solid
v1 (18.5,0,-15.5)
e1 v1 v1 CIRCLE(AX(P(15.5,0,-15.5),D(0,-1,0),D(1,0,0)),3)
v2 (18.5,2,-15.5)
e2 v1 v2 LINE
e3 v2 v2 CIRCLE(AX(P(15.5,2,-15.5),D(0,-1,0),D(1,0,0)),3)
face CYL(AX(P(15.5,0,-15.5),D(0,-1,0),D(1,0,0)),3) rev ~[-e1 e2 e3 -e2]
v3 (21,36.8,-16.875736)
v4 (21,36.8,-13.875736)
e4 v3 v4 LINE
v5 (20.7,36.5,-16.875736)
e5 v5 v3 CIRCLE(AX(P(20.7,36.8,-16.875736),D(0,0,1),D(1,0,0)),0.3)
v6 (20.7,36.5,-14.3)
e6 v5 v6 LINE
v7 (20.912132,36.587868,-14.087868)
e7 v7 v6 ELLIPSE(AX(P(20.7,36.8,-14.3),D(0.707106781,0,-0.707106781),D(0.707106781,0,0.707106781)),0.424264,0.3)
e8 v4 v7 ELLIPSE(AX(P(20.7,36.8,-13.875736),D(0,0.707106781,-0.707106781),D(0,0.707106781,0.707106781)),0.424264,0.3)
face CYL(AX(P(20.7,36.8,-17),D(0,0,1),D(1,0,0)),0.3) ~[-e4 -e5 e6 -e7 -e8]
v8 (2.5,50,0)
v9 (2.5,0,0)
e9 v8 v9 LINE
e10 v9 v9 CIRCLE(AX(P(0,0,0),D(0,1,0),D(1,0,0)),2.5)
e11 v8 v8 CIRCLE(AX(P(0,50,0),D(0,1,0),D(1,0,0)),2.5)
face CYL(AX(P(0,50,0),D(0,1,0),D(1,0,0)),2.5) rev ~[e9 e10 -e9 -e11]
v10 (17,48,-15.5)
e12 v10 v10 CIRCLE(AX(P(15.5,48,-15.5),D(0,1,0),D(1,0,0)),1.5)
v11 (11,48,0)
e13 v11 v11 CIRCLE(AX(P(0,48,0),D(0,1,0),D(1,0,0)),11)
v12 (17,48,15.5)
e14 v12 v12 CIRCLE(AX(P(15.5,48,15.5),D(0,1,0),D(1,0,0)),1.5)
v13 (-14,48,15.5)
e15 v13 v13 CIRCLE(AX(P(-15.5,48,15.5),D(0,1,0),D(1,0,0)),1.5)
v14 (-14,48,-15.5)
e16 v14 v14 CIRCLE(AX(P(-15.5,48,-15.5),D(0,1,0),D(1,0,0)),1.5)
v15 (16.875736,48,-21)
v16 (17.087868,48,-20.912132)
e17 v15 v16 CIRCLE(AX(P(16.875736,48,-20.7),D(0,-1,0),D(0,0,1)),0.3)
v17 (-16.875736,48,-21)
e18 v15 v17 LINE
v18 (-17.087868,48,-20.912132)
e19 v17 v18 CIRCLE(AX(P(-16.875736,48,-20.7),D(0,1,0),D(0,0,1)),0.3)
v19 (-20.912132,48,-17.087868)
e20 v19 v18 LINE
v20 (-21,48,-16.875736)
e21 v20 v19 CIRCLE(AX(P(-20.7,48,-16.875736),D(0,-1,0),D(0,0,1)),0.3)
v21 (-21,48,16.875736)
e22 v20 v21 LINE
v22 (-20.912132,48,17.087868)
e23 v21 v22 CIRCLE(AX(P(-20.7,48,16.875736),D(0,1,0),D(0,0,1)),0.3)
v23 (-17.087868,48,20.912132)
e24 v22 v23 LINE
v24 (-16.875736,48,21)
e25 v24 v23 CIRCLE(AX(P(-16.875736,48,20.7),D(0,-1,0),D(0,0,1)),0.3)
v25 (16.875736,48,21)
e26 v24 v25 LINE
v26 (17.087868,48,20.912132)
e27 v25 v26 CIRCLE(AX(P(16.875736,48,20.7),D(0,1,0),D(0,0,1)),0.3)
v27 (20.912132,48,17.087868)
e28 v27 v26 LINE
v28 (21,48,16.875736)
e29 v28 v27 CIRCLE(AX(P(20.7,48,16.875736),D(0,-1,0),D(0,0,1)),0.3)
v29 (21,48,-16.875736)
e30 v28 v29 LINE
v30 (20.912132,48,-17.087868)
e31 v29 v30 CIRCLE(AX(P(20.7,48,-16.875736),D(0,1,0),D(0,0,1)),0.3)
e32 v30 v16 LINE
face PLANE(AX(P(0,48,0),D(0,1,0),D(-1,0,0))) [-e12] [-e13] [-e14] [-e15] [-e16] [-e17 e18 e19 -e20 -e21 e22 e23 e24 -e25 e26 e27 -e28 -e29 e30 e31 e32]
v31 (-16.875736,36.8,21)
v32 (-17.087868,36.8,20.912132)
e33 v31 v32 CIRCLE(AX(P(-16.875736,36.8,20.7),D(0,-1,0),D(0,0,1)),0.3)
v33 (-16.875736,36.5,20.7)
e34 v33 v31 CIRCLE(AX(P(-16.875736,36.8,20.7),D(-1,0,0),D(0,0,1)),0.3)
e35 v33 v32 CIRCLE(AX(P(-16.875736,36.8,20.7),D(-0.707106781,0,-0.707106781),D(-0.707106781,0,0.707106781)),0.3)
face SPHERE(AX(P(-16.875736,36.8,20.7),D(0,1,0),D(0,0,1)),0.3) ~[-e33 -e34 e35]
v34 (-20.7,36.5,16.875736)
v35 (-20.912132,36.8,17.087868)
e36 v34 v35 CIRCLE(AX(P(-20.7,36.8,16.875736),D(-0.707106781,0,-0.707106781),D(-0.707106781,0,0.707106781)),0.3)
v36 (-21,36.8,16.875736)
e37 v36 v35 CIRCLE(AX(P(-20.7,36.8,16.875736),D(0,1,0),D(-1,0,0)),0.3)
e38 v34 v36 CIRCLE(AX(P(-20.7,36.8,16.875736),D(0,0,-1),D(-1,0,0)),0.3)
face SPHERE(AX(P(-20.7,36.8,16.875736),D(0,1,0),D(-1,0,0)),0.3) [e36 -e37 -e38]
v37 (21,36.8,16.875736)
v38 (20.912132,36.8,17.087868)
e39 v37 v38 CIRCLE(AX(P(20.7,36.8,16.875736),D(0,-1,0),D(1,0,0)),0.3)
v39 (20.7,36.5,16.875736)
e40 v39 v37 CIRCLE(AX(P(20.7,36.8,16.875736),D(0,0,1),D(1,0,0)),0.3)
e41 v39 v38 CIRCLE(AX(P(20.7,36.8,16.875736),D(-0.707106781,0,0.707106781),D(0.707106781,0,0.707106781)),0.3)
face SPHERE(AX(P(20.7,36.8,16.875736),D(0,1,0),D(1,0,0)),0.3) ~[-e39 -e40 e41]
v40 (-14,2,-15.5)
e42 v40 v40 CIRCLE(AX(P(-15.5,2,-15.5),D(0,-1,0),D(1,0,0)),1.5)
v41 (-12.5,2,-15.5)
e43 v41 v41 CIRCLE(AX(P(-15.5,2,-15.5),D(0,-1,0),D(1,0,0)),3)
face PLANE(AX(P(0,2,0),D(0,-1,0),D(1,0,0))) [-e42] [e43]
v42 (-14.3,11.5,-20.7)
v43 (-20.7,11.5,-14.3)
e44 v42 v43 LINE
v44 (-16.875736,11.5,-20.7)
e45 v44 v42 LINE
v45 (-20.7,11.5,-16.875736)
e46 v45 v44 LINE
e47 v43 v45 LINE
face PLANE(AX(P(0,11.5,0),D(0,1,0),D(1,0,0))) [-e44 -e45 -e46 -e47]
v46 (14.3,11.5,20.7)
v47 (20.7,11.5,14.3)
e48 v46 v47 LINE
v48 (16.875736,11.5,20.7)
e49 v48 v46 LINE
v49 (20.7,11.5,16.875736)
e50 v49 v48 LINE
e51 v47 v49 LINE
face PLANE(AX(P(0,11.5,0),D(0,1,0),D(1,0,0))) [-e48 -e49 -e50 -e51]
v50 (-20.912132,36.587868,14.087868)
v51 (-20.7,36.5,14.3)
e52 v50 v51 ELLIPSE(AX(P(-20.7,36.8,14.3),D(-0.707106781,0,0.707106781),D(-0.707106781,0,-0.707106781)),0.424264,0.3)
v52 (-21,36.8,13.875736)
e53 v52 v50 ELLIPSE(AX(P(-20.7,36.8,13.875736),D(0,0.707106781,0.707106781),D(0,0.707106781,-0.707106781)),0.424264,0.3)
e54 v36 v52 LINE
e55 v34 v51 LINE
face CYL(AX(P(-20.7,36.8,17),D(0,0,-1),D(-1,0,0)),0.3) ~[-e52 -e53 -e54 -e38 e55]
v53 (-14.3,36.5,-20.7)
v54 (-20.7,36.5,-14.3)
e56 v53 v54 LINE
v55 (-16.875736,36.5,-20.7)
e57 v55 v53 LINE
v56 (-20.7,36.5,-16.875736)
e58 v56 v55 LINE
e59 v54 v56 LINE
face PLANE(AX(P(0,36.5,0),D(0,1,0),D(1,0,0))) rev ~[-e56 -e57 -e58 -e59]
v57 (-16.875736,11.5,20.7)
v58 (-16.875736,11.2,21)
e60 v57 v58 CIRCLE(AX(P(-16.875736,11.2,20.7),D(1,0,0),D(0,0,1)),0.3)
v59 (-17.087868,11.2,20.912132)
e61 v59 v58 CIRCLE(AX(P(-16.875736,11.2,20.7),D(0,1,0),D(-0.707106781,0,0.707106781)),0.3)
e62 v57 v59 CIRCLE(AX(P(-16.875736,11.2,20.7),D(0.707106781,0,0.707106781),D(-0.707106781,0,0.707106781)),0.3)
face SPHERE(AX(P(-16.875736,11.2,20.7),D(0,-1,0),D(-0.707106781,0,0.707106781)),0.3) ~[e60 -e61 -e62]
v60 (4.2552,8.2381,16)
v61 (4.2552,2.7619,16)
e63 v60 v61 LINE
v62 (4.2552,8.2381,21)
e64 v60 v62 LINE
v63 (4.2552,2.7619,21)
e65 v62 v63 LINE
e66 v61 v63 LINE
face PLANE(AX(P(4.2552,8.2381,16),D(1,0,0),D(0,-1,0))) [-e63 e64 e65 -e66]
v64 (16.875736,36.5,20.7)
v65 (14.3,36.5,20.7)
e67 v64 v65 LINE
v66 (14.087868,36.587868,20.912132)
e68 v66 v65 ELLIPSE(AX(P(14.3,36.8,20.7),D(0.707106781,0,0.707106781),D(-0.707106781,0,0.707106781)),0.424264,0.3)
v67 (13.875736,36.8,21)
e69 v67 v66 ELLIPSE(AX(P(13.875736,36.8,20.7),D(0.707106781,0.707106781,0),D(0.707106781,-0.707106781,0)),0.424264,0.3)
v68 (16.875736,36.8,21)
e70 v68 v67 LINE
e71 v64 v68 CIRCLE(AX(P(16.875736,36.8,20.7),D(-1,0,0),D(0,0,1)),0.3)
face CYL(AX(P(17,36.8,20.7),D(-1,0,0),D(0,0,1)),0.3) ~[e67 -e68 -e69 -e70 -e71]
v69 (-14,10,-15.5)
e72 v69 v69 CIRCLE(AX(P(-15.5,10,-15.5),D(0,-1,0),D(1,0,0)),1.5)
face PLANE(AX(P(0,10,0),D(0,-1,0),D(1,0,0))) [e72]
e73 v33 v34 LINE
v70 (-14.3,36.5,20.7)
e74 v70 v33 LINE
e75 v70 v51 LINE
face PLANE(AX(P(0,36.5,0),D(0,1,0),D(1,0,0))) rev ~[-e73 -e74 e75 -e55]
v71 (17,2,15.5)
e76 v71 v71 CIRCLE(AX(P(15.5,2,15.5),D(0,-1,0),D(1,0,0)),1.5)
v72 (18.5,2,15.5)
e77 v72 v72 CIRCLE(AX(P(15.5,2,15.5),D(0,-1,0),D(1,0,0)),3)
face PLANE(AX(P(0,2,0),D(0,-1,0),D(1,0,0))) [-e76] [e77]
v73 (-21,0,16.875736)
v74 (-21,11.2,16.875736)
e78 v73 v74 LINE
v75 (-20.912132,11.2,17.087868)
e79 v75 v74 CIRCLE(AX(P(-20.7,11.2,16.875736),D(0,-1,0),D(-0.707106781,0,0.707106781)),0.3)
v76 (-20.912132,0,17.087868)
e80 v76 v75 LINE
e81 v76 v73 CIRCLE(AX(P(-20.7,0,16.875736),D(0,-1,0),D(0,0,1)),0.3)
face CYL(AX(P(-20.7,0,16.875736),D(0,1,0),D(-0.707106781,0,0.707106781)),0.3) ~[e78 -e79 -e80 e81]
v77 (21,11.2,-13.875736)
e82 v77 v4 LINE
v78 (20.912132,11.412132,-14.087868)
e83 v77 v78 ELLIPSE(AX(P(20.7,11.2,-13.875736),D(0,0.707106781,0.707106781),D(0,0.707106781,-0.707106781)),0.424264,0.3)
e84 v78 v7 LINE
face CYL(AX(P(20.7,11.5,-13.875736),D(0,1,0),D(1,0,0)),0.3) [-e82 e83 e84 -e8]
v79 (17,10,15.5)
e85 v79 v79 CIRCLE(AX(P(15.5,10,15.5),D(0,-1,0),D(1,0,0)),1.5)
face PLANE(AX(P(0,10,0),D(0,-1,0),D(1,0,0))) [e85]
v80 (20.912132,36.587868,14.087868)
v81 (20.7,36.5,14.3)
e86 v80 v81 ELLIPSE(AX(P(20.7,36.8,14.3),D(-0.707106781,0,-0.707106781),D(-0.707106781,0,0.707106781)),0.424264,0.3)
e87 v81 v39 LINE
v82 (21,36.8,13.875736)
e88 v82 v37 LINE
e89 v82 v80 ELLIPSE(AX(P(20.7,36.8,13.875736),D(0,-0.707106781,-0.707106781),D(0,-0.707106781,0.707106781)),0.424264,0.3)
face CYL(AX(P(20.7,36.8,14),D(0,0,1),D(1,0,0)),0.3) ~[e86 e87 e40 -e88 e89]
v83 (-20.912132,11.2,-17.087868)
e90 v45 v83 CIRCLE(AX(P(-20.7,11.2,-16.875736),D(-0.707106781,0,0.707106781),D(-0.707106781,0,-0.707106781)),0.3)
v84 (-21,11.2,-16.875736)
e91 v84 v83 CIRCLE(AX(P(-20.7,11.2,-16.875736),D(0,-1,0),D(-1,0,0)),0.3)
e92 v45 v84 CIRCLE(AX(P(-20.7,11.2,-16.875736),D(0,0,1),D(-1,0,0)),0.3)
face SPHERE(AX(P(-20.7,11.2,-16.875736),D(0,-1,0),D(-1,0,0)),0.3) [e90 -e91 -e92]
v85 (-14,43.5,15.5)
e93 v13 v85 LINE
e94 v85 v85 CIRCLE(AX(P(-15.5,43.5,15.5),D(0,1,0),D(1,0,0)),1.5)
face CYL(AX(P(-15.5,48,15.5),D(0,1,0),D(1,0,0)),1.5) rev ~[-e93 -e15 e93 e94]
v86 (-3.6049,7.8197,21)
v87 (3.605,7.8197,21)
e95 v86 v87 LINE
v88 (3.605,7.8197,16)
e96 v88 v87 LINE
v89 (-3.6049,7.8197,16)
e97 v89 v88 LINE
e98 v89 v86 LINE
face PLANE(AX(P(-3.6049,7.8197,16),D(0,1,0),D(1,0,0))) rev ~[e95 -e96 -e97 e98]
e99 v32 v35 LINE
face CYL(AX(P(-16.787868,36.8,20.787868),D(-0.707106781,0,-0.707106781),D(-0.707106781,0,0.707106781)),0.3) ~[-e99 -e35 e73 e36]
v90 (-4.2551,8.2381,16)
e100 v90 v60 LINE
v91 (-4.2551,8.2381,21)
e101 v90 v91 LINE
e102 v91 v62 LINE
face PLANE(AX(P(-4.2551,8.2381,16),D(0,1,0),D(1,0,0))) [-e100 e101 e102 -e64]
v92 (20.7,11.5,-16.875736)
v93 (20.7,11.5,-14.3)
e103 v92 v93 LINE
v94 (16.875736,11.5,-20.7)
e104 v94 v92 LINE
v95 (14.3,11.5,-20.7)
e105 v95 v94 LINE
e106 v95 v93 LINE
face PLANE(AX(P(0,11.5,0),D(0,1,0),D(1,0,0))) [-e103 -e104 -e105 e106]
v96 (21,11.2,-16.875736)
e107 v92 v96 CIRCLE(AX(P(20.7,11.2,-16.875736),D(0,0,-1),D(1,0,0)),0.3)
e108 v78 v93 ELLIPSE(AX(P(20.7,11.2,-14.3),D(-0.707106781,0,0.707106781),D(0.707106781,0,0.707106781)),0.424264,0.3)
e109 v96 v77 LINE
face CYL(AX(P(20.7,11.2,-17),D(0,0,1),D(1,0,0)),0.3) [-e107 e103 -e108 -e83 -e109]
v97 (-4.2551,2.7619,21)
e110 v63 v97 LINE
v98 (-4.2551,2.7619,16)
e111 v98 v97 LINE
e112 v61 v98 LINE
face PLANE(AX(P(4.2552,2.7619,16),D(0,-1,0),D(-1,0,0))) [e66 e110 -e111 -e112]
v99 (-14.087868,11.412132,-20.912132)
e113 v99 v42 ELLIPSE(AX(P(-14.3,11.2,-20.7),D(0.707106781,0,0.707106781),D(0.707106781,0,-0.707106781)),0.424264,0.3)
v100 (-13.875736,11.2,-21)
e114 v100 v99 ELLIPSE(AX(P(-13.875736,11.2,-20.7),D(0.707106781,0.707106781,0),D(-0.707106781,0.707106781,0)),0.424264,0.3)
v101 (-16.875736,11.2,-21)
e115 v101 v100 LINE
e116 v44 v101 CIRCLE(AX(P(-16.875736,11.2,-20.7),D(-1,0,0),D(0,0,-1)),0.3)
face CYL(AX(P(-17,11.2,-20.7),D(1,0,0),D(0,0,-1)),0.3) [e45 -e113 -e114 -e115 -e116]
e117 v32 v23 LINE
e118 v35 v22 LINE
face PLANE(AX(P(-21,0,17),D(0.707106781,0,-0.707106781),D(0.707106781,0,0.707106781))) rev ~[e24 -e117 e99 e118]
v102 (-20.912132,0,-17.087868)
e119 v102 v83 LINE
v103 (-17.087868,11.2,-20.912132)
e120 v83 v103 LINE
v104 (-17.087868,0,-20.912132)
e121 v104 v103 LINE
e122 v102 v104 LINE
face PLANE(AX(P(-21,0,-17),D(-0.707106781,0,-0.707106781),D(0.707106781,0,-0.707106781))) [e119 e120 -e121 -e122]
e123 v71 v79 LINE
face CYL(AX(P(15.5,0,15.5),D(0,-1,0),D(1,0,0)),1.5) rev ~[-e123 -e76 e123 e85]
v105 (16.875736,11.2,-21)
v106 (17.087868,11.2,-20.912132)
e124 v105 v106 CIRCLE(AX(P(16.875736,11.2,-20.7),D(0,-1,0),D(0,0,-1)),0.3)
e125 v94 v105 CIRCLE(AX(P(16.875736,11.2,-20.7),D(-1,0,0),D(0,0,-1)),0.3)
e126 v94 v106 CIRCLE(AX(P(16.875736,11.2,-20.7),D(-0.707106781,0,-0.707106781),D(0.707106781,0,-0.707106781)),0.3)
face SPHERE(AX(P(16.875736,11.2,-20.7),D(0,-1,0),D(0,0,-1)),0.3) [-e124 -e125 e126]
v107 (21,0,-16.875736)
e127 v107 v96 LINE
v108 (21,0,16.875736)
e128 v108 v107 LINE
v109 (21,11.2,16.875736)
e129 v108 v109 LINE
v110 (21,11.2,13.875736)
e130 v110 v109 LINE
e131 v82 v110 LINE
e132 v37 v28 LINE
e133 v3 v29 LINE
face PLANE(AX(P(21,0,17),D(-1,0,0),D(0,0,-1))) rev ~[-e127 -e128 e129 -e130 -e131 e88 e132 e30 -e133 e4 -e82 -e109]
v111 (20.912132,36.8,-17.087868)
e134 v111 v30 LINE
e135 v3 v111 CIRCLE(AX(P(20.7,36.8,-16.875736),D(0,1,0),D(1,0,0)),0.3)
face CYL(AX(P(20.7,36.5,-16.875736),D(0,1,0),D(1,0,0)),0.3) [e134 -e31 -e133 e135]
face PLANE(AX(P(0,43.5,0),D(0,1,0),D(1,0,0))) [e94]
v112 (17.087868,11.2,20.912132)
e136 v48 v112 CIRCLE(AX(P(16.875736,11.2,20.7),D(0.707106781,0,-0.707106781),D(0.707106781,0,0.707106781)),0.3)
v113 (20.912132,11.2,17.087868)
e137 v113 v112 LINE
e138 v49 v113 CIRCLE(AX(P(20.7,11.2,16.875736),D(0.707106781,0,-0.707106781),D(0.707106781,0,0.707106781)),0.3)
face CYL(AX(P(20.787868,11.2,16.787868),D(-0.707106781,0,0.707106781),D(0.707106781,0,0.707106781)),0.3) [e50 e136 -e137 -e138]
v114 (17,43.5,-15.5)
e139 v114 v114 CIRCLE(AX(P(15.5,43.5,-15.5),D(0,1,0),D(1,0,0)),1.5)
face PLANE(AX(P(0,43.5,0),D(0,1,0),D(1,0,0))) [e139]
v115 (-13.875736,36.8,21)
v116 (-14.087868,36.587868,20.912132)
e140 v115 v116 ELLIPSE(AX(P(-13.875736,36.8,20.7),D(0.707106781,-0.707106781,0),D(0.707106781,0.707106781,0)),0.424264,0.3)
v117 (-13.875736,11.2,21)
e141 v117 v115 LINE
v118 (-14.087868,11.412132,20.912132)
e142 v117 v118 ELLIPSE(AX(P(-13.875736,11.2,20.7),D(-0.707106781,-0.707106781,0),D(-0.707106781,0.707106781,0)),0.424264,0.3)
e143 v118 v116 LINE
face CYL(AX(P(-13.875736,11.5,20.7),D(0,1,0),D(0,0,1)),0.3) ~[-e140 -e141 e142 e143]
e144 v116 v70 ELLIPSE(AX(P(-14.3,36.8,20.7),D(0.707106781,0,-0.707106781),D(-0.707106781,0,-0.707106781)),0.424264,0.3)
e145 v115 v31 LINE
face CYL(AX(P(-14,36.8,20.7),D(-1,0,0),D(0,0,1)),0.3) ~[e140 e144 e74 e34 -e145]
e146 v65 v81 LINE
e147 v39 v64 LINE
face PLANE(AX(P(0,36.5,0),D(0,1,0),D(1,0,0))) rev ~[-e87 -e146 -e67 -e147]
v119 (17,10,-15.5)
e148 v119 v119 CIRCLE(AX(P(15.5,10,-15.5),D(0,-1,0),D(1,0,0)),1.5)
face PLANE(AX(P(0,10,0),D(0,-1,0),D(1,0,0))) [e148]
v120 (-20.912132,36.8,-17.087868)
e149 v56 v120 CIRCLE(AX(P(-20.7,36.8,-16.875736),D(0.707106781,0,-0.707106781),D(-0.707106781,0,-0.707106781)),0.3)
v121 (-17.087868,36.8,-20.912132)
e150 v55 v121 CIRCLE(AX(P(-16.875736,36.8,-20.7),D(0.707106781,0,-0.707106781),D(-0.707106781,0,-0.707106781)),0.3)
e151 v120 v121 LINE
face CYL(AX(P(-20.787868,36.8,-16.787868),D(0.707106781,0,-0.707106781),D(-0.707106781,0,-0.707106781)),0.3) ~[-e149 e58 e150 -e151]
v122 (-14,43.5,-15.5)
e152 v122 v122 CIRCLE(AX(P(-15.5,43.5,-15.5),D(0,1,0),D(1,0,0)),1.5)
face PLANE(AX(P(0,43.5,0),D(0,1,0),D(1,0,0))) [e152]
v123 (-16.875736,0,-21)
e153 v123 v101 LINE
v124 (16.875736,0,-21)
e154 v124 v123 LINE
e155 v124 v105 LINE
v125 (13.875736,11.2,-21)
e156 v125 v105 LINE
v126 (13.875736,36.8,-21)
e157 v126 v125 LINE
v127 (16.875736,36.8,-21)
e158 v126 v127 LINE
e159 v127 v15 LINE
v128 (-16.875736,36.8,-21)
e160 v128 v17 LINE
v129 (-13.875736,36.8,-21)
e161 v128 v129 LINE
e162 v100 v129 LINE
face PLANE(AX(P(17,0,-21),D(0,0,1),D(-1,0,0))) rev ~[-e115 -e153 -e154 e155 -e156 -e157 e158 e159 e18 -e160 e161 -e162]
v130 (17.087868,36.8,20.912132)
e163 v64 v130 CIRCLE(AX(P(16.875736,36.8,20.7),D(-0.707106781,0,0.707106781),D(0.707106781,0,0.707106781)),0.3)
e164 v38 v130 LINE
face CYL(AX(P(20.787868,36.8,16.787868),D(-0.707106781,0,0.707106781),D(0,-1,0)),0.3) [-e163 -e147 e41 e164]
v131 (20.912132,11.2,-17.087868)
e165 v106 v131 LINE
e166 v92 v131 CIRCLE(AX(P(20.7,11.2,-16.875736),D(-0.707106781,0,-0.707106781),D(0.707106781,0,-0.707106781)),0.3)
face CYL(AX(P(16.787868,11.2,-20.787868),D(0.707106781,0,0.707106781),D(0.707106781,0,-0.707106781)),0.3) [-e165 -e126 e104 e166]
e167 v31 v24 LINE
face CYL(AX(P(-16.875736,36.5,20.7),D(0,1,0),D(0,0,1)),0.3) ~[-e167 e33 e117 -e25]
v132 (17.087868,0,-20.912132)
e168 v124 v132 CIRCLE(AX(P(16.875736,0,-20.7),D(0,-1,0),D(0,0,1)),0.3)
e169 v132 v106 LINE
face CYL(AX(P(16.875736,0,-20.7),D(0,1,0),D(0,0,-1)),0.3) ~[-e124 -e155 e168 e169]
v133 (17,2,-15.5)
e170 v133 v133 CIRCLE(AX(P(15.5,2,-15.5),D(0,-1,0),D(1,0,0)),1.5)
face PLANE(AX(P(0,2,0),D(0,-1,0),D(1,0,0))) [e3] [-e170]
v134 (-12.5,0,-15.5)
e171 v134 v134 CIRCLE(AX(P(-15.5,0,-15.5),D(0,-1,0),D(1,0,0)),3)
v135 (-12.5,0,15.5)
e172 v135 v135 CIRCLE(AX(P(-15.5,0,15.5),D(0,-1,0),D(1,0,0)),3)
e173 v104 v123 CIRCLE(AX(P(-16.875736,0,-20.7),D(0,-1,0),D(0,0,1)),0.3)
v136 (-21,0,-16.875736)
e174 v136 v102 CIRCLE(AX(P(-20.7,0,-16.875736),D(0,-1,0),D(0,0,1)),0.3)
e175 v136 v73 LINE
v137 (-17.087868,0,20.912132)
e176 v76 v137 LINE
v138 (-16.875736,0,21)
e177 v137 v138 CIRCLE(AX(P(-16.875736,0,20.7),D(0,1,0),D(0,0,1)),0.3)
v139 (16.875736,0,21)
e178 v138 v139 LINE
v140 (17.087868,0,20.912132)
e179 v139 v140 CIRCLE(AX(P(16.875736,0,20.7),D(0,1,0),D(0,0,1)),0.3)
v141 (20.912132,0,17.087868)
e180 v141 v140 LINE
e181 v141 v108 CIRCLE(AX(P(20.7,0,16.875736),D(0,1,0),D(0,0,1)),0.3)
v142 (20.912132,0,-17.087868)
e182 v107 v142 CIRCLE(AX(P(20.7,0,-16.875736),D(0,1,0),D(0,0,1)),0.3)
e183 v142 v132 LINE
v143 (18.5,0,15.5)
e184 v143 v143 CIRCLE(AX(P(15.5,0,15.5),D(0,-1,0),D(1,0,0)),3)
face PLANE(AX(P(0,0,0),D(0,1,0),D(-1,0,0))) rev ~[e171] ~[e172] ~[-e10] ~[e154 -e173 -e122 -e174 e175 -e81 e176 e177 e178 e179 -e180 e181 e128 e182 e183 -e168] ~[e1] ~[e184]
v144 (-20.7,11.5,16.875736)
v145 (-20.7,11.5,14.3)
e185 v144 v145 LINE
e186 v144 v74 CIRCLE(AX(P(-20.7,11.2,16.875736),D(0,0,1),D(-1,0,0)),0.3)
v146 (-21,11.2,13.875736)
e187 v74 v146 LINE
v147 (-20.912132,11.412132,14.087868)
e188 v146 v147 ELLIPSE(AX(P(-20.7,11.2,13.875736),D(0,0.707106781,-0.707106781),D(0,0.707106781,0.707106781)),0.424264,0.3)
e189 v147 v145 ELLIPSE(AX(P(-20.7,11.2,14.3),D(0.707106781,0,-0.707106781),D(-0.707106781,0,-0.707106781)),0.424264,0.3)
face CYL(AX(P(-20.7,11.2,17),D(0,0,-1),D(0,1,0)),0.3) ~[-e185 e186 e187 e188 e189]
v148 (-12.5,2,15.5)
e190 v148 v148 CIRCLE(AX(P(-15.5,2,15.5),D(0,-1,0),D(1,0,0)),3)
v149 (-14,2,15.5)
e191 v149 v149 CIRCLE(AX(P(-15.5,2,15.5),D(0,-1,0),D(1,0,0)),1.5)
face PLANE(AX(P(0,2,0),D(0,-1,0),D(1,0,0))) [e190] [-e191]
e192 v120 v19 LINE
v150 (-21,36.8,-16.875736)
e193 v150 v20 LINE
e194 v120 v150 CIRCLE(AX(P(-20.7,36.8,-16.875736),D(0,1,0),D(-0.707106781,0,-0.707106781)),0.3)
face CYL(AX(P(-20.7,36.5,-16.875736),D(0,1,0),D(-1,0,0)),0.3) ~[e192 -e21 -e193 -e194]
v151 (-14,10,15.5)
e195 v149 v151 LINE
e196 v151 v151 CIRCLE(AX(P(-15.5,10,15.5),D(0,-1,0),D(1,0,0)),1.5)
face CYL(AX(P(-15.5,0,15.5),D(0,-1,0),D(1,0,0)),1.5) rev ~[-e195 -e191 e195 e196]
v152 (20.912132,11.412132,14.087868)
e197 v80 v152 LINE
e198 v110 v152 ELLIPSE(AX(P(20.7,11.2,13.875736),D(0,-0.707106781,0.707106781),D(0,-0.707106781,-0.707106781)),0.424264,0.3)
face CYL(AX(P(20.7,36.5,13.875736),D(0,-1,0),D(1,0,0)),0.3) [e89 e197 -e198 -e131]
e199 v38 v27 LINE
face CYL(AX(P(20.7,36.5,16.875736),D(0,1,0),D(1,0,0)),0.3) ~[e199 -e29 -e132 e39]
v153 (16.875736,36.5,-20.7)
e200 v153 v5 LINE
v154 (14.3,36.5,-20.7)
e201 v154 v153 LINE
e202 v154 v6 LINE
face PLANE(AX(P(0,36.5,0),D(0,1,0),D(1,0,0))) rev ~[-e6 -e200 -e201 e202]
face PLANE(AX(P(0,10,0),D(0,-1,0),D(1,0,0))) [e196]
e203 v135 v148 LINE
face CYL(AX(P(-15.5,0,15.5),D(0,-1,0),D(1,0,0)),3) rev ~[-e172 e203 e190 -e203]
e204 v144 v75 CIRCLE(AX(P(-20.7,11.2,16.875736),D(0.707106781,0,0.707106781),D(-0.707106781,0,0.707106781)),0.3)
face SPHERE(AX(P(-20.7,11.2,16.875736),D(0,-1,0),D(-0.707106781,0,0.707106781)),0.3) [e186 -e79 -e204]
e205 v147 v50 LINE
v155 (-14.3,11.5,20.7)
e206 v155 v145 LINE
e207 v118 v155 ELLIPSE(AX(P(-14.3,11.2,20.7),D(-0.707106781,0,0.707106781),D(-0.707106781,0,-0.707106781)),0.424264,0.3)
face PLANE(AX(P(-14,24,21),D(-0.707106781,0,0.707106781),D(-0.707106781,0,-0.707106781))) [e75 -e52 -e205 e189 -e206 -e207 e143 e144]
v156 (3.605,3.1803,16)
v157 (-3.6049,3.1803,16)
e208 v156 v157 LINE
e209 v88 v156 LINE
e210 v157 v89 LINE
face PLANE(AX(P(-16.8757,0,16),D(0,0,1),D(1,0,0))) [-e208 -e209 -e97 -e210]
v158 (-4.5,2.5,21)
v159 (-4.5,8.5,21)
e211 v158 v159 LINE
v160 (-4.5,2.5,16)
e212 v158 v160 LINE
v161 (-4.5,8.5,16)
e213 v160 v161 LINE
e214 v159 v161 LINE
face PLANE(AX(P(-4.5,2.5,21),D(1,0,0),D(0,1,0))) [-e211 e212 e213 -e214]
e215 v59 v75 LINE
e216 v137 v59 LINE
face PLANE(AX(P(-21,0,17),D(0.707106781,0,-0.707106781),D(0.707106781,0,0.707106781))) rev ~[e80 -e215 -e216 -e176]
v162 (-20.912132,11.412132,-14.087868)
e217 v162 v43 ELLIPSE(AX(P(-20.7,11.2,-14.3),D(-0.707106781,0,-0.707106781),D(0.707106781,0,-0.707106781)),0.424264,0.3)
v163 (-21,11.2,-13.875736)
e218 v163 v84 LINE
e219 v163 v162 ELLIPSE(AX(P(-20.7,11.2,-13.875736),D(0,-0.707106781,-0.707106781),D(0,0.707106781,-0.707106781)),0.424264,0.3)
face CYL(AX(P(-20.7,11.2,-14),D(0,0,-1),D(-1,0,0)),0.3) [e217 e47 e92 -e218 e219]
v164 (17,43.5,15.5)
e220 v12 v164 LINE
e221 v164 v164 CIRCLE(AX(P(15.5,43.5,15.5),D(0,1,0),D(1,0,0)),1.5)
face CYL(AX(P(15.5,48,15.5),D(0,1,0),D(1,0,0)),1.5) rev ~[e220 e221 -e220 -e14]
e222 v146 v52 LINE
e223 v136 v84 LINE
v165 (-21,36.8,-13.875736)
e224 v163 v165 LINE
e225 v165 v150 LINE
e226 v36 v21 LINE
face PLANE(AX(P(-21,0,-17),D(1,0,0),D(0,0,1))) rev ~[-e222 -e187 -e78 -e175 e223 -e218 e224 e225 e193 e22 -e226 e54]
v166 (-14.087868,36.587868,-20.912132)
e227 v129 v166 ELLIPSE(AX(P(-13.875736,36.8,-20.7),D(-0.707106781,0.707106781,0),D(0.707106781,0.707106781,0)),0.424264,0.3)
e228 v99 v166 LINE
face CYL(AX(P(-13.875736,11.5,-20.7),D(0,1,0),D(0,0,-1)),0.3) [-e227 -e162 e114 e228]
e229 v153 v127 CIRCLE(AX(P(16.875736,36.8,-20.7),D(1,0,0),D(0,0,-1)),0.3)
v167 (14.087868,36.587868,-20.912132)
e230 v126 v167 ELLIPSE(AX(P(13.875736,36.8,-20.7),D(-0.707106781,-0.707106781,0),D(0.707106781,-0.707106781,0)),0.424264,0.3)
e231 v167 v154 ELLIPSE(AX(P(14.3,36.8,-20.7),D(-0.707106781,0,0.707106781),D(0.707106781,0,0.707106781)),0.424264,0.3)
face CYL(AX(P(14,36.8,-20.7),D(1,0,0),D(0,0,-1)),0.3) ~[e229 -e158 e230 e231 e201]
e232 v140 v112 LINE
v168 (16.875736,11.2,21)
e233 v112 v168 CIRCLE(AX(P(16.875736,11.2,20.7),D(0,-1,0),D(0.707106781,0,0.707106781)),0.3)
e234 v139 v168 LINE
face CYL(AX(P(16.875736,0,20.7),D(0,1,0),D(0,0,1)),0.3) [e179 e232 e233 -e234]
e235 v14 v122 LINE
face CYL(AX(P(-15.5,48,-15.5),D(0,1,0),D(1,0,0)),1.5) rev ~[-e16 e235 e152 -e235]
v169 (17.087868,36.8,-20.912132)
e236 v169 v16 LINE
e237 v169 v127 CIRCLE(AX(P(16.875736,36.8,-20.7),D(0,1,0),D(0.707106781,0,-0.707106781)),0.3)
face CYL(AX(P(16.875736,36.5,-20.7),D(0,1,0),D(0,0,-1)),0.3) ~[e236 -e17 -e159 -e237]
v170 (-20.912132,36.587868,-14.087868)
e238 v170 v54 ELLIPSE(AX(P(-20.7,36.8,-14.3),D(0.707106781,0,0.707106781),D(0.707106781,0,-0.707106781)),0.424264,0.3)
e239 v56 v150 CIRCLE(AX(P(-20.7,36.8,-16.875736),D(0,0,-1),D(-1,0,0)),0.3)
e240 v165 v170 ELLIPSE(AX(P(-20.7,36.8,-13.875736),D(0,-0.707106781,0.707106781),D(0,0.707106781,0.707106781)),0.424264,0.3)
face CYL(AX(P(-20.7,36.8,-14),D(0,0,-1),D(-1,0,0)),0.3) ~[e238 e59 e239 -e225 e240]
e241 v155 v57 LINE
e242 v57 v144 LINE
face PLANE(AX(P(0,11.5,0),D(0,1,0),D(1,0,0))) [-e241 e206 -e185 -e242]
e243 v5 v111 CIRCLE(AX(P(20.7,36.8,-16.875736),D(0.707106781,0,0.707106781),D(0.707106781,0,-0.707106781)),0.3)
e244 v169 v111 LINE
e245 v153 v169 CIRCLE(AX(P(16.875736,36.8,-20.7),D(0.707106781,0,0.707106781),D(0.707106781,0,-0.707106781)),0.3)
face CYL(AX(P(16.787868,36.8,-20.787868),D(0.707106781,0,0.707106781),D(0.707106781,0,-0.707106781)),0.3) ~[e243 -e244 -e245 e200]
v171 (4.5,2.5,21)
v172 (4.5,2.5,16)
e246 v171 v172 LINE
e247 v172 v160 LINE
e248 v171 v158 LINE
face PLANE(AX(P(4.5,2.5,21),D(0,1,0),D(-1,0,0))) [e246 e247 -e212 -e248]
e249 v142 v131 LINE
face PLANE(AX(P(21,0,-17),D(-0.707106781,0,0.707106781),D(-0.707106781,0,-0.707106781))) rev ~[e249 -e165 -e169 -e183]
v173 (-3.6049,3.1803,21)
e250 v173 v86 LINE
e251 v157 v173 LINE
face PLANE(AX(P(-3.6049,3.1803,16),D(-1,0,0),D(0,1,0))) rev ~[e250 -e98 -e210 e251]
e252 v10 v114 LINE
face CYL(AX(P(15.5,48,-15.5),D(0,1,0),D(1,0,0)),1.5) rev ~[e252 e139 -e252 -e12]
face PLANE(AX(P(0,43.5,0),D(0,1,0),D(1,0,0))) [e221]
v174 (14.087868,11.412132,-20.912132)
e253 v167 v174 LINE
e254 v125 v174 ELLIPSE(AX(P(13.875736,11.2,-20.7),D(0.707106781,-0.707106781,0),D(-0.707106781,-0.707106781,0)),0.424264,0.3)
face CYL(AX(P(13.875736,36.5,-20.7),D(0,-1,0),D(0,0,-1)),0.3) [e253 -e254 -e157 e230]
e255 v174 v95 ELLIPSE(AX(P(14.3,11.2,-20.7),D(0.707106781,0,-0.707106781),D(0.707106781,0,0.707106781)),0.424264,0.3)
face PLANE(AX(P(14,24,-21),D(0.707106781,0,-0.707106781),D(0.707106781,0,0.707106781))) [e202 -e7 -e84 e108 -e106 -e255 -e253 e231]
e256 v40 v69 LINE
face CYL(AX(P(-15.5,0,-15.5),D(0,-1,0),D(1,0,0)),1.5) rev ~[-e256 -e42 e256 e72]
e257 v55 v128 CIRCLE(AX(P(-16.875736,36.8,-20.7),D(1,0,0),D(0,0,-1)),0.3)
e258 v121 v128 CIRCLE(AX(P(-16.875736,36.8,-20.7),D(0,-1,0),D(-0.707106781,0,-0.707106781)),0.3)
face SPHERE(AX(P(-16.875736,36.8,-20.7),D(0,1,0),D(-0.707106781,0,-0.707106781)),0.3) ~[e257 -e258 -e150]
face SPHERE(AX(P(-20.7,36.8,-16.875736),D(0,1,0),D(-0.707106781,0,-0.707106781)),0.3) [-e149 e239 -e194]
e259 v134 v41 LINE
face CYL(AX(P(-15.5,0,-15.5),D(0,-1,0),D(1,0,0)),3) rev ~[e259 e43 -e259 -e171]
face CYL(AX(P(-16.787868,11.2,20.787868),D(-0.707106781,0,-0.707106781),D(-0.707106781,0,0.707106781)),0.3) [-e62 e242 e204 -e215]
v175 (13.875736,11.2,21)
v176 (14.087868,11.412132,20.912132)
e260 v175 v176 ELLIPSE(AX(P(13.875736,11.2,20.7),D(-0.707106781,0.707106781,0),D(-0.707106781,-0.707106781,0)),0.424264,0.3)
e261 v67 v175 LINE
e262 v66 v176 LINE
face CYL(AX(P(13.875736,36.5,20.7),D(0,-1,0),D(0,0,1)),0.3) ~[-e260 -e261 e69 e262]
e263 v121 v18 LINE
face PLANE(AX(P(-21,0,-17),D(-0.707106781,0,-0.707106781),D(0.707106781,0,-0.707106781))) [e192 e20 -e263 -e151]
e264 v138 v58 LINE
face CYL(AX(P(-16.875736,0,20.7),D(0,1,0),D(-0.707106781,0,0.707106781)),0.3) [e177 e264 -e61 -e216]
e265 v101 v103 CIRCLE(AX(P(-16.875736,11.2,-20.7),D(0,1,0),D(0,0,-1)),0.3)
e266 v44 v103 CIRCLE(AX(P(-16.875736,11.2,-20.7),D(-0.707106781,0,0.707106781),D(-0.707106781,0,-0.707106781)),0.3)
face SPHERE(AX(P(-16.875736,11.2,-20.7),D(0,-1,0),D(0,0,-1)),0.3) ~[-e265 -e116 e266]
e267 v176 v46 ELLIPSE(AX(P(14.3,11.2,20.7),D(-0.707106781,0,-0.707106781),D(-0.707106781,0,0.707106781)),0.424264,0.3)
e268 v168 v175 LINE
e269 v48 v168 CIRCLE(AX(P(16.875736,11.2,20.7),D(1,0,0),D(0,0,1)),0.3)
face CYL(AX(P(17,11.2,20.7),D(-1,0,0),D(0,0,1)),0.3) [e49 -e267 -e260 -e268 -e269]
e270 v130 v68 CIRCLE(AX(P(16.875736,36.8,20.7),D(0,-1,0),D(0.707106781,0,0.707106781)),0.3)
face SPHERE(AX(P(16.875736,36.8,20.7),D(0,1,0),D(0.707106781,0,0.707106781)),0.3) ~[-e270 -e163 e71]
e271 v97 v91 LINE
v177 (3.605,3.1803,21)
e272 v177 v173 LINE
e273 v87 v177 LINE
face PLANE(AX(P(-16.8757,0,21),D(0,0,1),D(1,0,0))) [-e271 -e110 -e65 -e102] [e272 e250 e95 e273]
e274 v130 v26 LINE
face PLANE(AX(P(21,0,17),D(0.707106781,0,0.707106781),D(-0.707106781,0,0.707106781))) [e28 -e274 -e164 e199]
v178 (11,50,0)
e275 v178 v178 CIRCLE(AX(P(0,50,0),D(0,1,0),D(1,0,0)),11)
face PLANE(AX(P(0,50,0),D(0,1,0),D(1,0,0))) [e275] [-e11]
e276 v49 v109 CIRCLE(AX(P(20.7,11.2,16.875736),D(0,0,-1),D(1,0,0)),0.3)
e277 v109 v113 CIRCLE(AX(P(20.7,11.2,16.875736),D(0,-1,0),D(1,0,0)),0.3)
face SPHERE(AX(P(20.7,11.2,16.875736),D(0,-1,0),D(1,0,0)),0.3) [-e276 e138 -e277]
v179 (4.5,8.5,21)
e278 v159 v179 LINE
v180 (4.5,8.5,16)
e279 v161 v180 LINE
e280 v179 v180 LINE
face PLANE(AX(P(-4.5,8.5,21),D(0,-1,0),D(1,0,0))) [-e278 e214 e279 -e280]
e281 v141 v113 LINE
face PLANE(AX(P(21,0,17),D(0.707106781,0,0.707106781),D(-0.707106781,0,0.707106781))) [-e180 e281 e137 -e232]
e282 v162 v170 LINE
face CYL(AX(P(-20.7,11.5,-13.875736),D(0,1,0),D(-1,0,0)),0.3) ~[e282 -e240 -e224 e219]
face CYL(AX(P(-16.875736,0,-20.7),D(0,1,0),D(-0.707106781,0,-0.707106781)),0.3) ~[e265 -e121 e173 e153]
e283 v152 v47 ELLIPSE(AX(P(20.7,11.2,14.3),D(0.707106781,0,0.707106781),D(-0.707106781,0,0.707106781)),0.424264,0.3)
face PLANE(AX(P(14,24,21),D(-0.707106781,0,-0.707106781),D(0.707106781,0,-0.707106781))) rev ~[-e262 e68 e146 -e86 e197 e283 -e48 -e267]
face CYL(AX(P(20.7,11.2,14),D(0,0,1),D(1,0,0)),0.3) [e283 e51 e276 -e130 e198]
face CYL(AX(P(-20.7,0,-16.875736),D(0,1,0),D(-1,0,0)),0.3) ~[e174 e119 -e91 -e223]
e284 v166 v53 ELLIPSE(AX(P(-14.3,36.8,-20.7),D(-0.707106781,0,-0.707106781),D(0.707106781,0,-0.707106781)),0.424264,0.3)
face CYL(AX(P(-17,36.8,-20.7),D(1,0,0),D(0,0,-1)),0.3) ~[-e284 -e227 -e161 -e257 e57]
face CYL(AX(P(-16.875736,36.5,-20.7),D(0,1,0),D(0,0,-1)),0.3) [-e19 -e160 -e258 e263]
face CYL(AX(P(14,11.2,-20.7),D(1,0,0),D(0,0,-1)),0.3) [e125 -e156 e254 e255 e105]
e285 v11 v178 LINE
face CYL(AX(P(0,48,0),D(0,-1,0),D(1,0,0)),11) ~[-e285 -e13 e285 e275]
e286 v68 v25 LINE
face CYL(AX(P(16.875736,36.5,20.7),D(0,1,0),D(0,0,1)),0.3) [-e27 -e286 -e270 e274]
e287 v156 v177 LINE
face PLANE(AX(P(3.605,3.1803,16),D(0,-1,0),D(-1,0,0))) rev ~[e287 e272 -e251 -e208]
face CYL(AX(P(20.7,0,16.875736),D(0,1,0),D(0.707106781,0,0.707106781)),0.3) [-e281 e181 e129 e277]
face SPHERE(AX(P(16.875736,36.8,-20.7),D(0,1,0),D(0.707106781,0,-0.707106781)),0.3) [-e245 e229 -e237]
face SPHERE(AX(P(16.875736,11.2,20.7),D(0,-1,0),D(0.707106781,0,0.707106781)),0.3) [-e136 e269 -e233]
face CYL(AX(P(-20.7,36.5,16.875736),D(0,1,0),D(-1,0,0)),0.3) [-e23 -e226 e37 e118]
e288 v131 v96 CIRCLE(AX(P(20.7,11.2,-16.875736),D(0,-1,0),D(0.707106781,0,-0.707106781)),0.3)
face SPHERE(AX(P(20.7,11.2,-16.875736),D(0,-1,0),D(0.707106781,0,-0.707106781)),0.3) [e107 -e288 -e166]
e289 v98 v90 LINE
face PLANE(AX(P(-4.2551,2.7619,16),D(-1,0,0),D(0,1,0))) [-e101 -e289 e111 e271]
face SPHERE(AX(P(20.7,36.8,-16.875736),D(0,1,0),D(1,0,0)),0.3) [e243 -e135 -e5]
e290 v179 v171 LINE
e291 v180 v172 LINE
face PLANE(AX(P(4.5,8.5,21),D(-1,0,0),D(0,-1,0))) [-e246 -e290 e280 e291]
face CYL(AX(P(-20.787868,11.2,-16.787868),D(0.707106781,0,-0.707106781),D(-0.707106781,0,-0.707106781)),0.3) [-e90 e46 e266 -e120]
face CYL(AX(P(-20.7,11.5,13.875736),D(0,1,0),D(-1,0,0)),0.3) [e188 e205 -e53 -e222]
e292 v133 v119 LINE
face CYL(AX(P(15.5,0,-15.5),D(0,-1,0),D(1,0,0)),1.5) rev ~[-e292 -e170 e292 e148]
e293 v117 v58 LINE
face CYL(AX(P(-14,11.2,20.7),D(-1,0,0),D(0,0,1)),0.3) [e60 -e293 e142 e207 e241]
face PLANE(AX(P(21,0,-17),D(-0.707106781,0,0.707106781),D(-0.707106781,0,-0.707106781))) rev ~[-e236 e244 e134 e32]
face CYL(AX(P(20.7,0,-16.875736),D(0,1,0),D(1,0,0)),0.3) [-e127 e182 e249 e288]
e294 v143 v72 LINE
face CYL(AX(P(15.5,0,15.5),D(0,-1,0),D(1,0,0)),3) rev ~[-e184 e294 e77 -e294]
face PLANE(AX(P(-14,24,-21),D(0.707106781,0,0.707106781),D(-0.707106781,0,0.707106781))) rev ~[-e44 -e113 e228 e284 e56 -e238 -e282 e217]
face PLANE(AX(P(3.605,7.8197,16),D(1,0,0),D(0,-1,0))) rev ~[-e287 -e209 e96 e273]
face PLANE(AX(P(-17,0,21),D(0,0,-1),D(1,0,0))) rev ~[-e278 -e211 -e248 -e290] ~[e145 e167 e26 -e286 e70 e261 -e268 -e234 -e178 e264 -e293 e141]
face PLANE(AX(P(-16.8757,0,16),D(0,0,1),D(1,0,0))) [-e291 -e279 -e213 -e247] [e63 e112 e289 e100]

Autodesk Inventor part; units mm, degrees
ref_plane "YZ Plane" through (0, 0, 0) normal (1, 0, 0) x (0, 1, 0)
ref_plane "XZ Plane" through (0, 0, 0) normal (0, 1, 0) x (-1, 0, 0)
sketch "Sketch1" plane through (0, 0, 0) normal (0, 1, 0) x (-1, 0, 0)
  line L0 (17, 21) -> (-17, 21)
  line L1 (-21, 17) -> (-21, -17)
  line L2 (-17, -21) -> (17, -21)
  line L3 (21, -17) -> (21, 17)
  line L4 (21, 21) -> (-21, -21) construction
  line L5 (-21, 21) -> (21, -21) construction
  line L6 (21, 0) -> (-21, 0) construction
  line L7 (0, 21) -> (0, -21) construction
  line L8 (0, -21) -> (17, -21) construction
  line L9 (21, 0) -> (21, -17) construction
  line L10 (21, -17) -> (17, -21)
  line L11 (21, 17) -> (17, 21)
  line L12 (-21, -17) -> (-17, -21)
  line L13 (-21, 17) -> (-17, 21)
  point P0 (0, 0)
  dimension "d0" = 42
  dimension "d1" = 42
  dimension "d2" = 17
  dimension "d3" = 17
extrude "Extrusion1" add sketch "Sketch1" along normal blind 48
ref_plane "Work Plane1" through (0, 24, 0) normal (0, 1, 0) x (1, 0, 0)
sketch "Sketch2" plane through (0, 24, 0) normal (0, 1, 0) x (1, 0, 0)
  line L0 (17, -21) -> (-17, -21) projected
  line L1 (-17, -21) -> (-21, -17) projected
  line L2 (-21, -17) -> (-21, 17) projected
  line L3 (-21, 17) -> (-17, 21) projected
  line L4 (-17, 21) -> (17, 21) projected
  line L5 (17, 21) -> (21, 17) projected
  line L6 (21, 17) -> (21, -17) projected
  line L7 (21, -17) -> (17, -21) projected
  line L8 (0, 21) -> (0, -21) construction
  line L9 (17, -21) -> (-17, -21) construction
  line L10 (-21, -17) -> (-21, 17) construction
  line L11 (-21, 0) -> (21, 0) construction
  line L12 (0, 21) -> (14, 21) construction
  line L13 (-17, 21) -> (17, 21) construction
  line L14 (21, 0) -> (21, 14) construction
  line L15 (21, 17) -> (21, -17) construction
  line L16 (14, 21) -> (21, 14)
  line L17 (-14, 21) -> (-21, 14)
  line L18 (14, -21) -> (21, -14)
  line L19 (-14, -21) -> (-21, -14)
  line L20 (14, -21) -> (17, -21)
  line L21 (21, -17) -> (17, -21) projected
  line L22 (21, -17) -> (21, -14)
  line L23 (17, -21) -> (21, -17)
  line L24 (17, 21) -> (21, 17) projected
  line L25 (21, 14) -> (21, 17)
  line L26 (21, 17) -> (17, 21)
  line L27 (17, 21) -> (14, 21)
  line L28 (-14, 21) -> (-17, 21)
  line L29 (-21, 17) -> (-17, 21) projected
  line L30 (-21, 17) -> (-21, 14)
  line L31 (-17, 21) -> (-21, 17)
  line L32 (-14, -21) -> (-17, -21)
  line L33 (-17, -21) -> (-21, -17) projected
  line L34 (-21, -17) -> (-21, -14)
  line L35 (-17, -21) -> (-21, -17)
  point P0 (0, 0)
  dimension "d6" = 14
  dimension "d7" = 14
extrude "Extrusion2" cut sketch "Sketch2" along normal mid plane 25 contours L0 L18 L6 L7 | L0 L1 L2 L19 | L16 L4 L5 L6 | L2 L3 L4 L17
sketch "Sketch3" plane through (0, 48, 0) normal (0, 1, 0) x (1, 0, 0)
  circle A0 centre (0, 0) radius 11
  dimension "d10" = 22
extrude "Extrusion3" add sketch "Sketch3" along normal blind 2
sketch "Sketch4" plane through (0, 50, 0) normal (0, 1, 0) x (1, 0, 0)
  circle A0 centre (0, 0) radius 2.5
  dimension "d13" = 5
extrude "Extrusion4" cut sketch "Sketch4" against normal blind 70.2625
sketch "Sketch5" plane through (0, 48, 0) normal (0, 1, 0) x (1, 0, 0)
  line L0 (21, -17) -> (21, 17) construction
  line L1 (-17, -21) -> (17, -21) construction
  line L2 (17, 21) -> (-17, 21) construction
  line L3 (-21, 17) -> (-21, -17) construction
  line L4 (0, 21) -> (0, -21) construction
  line L5 (17, -21) -> (-17, -21) construction
  line L6 (21, 0) -> (-21, 0) construction
  line L7 (-21, -17) -> (-21, 17) construction
  circle A0 centre (15.5, -15.5) radius 1.5
  circle A1 centre (15.5, 15.5) radius 1.5
  circle A2 centre (-15.5, -15.5) radius 1.5
  circle A3 centre (-15.5, 15.5) radius 1.5
  point P0 (0, 0)
  dimension "d16" = 3
  dimension "d17" = 15.5
  dimension "d18" = 15.5
extrude "Extrusion5" cut sketch "Sketch5" against normal blind 4.5
thread "Thread1" size "M3x0.5" class "6H" standard "ANSI Metric M Profile" full length
thread "Thread2" size "M3x0.5" class "6H" standard "ANSI Metric M Profile" full length
thread "Thread3" size "M3x0.5" class "6H" standard "ANSI Metric M Profile" full length
thread "Thread4" size "M3x0.5" class "6H" standard "ANSI Metric M Profile" full length
sketch "Sketch6" plane through (0, 0, 0) normal (0, -1, 0) x (1, 0, 0)
  circle A0 centre (15.5, -15.5) radius 1.5 projected
  circle A1 centre (15.5, 15.5) radius 1.5 projected
  circle A2 centre (-15.5, 15.5) radius 1.5 projected
  circle A3 centre (-15.5, -15.5) radius 1.5 projected
  point P0 (0, 0)
extrude "Extrusion6" cut sketch "Sketch6" against normal blind 10
sketch "Sketch7" plane through (0, 0, 0) normal (0, -1, 0) x (1, 0, 0)
  circle A0 centre (15.5, 15.5) radius 1.5 projected
  circle A1 centre (15.5, 15.5) radius 3
  circle A2 centre (15.5, -15.5) radius 1.5 projected
  circle A3 centre (15.5, -15.5) radius 3
  circle A4 centre (-15.5, -15.5) radius 1.5 projected
  circle A5 centre (-15.5, -15.5) radius 3
  circle A6 centre (-15.5, 15.5) radius 1.5 projected
  circle A7 centre (-15.5, 15.5) radius 3
  point P0 (0, 0)
  dimension "d31" = 6
  dimension "d32" = 6
  dimension "d33" = 6
  dimension "d35" = 6
extrude "Extrusion7" cut sketch "Sketch7" against normal blind 2
fillet "Fillet1" radius 0.3 48 edges at (-21, 42.25, -17) (-17, 42.25, -21) (-19, 36.5, -19) (-21, 24, -14) (-14, 24, -21) (-19, 11.5, -19) (-17, 5.75, -21) (-21, 5.75, -17) (-21, 11.5, -15.5) (-15.5, 11.5, -21) (-21, 36.5, -15.5) (-15.5, 36.5, -21) (-17, 5.75, 21) (-21, 5.75, 17) (-19, 11.5, 19) (-21, 11.5, 15.5) (-15.5, 11.5, 21) (-14, 24, 21) (-21, 24, 14) (-19, 36.5, 19) (-21, 42.25, 17) (-17, 42.25, 21) (-21, 36.5, 15.5) (-15.5, 36.5, 21) (17, 42.25, 21) (21, 42.25, 17) (21, 36.5, 15.5) (19, 36.5, 19) (15.5, 36.5, 21) (14, 24, 21) (21, 24, 14) (21, 11.5, 15.5) (19, 11.5, 19) (15.5, 11.5, 21) (17, 5.75, 21) (21, 5.75, 17) (21, 42.25, -17) (17, 42.25, -21) (21, 24, -14) (14, 24, -21) (21, 5.75, -17) (17, 5.75, -21) (15.5, 11.5, -21) (19, 11.5, -19) (21, 11.5, -15.5) (21, 36.5, -15.5) (19, 36.5, -19) (15.5, 36.5, -21)
sketch "Sketch8" plane through (-16.8757, 0, 21) normal (0, 0, 1) x (1, 0, 0)
  line L0 (33.7515, 0) -> (0, 0) projected
  line L1 (0, 48) -> (33.7515, 48) projected
  line L2 (5.8757, 48) -> (27.8757, 48) construction
  line L3 (16.8757, 48) -> (16.8757, 0) construction
  line L4 (12.3757, 8.5) -> (21.3757, 8.5)
  line L5 (21.3757, 8.5) -> (21.3757, 2.5)
  line L6 (21.3757, 2.5) -> (12.3757, 2.5)
  line L7 (12.3757, 2.5) -> (12.3757, 8.5)
  line L8 (12.3757, 8.5) -> (21.3757, 2.5) construction
  line L9 (21.3757, 8.5) -> (12.3757, 2.5) construction
  point P0 (16.8757, 5.5)
  dimension "d39" = 9
  dimension "d40" = 6
  dimension "d41" = 2.5
extrude "Extrusion8" cut sketch "Sketch8" against normal blind 5
sketch "Sketch9" plane through (-16.8757, 0, 16) normal (0, 0, 1) x (1, 0, 0)
  line L0 (12.3757, 8.5) -> (21.3757, 8.5) projected
  line L1 (21.3757, 8.5) -> (21.3757, 2.5) projected
  line L2 (21.3757, 2.5) -> (12.3757, 2.5) projected
  line L3 (12.3757, 2.5) -> (12.3757, 8.5) projected
  line L4 (12.3757, 8.5) -> (21.3757, 8.5) construction
  line L5 (16.8757, 8.5) -> (16.8757, 2.5) construction
  line L6 (21.3757, 2.5) -> (12.3757, 2.5) construction
  line L7 (12.3757, 2.5) -> (12.3757, 8.5) construction
  line L8 (12.3757, 5.5) -> (21.3757, 5.5) construction
  line L9 (12.6206, 8.2381) -> (21.1309, 8.2381)
  line L10 (21.1309, 8.2381) -> (21.1309, 2.7619)
  line L11 (21.1309, 2.7619) -> (12.6206, 2.7619)
  line L12 (12.6206, 2.7619) -> (12.6206, 8.2381)
  line L13 (12.6206, 8.2381) -> (21.1309, 2.7619) construction
  line L14 (21.1309, 8.2381) -> (12.6206, 2.7619) construction
  line L15 (13.2708, 7.8197) -> (20.4807, 7.8197)
  line L16 (20.4807, 7.8197) -> (20.4807, 3.1803)
  line L17 (20.4807, 3.1803) -> (13.2708, 3.1803)
  line L18 (13.2708, 3.1803) -> (13.2708, 7.8197)
  line L19 (13.2708, 7.8197) -> (20.4807, 3.1803) construction
  line L20 (20.4807, 7.8197) -> (13.2708, 3.1803) construction
  point P0 (16.8757, 0)
  point P1 (16.8757, 5.5)
  point P2 (16.8757, 5.5)
extrude "Extrusion9" add sketch "Sketch9" along normal blind 5 contours L9 L10 L11 L12
properties part number "Stepper Motor"
